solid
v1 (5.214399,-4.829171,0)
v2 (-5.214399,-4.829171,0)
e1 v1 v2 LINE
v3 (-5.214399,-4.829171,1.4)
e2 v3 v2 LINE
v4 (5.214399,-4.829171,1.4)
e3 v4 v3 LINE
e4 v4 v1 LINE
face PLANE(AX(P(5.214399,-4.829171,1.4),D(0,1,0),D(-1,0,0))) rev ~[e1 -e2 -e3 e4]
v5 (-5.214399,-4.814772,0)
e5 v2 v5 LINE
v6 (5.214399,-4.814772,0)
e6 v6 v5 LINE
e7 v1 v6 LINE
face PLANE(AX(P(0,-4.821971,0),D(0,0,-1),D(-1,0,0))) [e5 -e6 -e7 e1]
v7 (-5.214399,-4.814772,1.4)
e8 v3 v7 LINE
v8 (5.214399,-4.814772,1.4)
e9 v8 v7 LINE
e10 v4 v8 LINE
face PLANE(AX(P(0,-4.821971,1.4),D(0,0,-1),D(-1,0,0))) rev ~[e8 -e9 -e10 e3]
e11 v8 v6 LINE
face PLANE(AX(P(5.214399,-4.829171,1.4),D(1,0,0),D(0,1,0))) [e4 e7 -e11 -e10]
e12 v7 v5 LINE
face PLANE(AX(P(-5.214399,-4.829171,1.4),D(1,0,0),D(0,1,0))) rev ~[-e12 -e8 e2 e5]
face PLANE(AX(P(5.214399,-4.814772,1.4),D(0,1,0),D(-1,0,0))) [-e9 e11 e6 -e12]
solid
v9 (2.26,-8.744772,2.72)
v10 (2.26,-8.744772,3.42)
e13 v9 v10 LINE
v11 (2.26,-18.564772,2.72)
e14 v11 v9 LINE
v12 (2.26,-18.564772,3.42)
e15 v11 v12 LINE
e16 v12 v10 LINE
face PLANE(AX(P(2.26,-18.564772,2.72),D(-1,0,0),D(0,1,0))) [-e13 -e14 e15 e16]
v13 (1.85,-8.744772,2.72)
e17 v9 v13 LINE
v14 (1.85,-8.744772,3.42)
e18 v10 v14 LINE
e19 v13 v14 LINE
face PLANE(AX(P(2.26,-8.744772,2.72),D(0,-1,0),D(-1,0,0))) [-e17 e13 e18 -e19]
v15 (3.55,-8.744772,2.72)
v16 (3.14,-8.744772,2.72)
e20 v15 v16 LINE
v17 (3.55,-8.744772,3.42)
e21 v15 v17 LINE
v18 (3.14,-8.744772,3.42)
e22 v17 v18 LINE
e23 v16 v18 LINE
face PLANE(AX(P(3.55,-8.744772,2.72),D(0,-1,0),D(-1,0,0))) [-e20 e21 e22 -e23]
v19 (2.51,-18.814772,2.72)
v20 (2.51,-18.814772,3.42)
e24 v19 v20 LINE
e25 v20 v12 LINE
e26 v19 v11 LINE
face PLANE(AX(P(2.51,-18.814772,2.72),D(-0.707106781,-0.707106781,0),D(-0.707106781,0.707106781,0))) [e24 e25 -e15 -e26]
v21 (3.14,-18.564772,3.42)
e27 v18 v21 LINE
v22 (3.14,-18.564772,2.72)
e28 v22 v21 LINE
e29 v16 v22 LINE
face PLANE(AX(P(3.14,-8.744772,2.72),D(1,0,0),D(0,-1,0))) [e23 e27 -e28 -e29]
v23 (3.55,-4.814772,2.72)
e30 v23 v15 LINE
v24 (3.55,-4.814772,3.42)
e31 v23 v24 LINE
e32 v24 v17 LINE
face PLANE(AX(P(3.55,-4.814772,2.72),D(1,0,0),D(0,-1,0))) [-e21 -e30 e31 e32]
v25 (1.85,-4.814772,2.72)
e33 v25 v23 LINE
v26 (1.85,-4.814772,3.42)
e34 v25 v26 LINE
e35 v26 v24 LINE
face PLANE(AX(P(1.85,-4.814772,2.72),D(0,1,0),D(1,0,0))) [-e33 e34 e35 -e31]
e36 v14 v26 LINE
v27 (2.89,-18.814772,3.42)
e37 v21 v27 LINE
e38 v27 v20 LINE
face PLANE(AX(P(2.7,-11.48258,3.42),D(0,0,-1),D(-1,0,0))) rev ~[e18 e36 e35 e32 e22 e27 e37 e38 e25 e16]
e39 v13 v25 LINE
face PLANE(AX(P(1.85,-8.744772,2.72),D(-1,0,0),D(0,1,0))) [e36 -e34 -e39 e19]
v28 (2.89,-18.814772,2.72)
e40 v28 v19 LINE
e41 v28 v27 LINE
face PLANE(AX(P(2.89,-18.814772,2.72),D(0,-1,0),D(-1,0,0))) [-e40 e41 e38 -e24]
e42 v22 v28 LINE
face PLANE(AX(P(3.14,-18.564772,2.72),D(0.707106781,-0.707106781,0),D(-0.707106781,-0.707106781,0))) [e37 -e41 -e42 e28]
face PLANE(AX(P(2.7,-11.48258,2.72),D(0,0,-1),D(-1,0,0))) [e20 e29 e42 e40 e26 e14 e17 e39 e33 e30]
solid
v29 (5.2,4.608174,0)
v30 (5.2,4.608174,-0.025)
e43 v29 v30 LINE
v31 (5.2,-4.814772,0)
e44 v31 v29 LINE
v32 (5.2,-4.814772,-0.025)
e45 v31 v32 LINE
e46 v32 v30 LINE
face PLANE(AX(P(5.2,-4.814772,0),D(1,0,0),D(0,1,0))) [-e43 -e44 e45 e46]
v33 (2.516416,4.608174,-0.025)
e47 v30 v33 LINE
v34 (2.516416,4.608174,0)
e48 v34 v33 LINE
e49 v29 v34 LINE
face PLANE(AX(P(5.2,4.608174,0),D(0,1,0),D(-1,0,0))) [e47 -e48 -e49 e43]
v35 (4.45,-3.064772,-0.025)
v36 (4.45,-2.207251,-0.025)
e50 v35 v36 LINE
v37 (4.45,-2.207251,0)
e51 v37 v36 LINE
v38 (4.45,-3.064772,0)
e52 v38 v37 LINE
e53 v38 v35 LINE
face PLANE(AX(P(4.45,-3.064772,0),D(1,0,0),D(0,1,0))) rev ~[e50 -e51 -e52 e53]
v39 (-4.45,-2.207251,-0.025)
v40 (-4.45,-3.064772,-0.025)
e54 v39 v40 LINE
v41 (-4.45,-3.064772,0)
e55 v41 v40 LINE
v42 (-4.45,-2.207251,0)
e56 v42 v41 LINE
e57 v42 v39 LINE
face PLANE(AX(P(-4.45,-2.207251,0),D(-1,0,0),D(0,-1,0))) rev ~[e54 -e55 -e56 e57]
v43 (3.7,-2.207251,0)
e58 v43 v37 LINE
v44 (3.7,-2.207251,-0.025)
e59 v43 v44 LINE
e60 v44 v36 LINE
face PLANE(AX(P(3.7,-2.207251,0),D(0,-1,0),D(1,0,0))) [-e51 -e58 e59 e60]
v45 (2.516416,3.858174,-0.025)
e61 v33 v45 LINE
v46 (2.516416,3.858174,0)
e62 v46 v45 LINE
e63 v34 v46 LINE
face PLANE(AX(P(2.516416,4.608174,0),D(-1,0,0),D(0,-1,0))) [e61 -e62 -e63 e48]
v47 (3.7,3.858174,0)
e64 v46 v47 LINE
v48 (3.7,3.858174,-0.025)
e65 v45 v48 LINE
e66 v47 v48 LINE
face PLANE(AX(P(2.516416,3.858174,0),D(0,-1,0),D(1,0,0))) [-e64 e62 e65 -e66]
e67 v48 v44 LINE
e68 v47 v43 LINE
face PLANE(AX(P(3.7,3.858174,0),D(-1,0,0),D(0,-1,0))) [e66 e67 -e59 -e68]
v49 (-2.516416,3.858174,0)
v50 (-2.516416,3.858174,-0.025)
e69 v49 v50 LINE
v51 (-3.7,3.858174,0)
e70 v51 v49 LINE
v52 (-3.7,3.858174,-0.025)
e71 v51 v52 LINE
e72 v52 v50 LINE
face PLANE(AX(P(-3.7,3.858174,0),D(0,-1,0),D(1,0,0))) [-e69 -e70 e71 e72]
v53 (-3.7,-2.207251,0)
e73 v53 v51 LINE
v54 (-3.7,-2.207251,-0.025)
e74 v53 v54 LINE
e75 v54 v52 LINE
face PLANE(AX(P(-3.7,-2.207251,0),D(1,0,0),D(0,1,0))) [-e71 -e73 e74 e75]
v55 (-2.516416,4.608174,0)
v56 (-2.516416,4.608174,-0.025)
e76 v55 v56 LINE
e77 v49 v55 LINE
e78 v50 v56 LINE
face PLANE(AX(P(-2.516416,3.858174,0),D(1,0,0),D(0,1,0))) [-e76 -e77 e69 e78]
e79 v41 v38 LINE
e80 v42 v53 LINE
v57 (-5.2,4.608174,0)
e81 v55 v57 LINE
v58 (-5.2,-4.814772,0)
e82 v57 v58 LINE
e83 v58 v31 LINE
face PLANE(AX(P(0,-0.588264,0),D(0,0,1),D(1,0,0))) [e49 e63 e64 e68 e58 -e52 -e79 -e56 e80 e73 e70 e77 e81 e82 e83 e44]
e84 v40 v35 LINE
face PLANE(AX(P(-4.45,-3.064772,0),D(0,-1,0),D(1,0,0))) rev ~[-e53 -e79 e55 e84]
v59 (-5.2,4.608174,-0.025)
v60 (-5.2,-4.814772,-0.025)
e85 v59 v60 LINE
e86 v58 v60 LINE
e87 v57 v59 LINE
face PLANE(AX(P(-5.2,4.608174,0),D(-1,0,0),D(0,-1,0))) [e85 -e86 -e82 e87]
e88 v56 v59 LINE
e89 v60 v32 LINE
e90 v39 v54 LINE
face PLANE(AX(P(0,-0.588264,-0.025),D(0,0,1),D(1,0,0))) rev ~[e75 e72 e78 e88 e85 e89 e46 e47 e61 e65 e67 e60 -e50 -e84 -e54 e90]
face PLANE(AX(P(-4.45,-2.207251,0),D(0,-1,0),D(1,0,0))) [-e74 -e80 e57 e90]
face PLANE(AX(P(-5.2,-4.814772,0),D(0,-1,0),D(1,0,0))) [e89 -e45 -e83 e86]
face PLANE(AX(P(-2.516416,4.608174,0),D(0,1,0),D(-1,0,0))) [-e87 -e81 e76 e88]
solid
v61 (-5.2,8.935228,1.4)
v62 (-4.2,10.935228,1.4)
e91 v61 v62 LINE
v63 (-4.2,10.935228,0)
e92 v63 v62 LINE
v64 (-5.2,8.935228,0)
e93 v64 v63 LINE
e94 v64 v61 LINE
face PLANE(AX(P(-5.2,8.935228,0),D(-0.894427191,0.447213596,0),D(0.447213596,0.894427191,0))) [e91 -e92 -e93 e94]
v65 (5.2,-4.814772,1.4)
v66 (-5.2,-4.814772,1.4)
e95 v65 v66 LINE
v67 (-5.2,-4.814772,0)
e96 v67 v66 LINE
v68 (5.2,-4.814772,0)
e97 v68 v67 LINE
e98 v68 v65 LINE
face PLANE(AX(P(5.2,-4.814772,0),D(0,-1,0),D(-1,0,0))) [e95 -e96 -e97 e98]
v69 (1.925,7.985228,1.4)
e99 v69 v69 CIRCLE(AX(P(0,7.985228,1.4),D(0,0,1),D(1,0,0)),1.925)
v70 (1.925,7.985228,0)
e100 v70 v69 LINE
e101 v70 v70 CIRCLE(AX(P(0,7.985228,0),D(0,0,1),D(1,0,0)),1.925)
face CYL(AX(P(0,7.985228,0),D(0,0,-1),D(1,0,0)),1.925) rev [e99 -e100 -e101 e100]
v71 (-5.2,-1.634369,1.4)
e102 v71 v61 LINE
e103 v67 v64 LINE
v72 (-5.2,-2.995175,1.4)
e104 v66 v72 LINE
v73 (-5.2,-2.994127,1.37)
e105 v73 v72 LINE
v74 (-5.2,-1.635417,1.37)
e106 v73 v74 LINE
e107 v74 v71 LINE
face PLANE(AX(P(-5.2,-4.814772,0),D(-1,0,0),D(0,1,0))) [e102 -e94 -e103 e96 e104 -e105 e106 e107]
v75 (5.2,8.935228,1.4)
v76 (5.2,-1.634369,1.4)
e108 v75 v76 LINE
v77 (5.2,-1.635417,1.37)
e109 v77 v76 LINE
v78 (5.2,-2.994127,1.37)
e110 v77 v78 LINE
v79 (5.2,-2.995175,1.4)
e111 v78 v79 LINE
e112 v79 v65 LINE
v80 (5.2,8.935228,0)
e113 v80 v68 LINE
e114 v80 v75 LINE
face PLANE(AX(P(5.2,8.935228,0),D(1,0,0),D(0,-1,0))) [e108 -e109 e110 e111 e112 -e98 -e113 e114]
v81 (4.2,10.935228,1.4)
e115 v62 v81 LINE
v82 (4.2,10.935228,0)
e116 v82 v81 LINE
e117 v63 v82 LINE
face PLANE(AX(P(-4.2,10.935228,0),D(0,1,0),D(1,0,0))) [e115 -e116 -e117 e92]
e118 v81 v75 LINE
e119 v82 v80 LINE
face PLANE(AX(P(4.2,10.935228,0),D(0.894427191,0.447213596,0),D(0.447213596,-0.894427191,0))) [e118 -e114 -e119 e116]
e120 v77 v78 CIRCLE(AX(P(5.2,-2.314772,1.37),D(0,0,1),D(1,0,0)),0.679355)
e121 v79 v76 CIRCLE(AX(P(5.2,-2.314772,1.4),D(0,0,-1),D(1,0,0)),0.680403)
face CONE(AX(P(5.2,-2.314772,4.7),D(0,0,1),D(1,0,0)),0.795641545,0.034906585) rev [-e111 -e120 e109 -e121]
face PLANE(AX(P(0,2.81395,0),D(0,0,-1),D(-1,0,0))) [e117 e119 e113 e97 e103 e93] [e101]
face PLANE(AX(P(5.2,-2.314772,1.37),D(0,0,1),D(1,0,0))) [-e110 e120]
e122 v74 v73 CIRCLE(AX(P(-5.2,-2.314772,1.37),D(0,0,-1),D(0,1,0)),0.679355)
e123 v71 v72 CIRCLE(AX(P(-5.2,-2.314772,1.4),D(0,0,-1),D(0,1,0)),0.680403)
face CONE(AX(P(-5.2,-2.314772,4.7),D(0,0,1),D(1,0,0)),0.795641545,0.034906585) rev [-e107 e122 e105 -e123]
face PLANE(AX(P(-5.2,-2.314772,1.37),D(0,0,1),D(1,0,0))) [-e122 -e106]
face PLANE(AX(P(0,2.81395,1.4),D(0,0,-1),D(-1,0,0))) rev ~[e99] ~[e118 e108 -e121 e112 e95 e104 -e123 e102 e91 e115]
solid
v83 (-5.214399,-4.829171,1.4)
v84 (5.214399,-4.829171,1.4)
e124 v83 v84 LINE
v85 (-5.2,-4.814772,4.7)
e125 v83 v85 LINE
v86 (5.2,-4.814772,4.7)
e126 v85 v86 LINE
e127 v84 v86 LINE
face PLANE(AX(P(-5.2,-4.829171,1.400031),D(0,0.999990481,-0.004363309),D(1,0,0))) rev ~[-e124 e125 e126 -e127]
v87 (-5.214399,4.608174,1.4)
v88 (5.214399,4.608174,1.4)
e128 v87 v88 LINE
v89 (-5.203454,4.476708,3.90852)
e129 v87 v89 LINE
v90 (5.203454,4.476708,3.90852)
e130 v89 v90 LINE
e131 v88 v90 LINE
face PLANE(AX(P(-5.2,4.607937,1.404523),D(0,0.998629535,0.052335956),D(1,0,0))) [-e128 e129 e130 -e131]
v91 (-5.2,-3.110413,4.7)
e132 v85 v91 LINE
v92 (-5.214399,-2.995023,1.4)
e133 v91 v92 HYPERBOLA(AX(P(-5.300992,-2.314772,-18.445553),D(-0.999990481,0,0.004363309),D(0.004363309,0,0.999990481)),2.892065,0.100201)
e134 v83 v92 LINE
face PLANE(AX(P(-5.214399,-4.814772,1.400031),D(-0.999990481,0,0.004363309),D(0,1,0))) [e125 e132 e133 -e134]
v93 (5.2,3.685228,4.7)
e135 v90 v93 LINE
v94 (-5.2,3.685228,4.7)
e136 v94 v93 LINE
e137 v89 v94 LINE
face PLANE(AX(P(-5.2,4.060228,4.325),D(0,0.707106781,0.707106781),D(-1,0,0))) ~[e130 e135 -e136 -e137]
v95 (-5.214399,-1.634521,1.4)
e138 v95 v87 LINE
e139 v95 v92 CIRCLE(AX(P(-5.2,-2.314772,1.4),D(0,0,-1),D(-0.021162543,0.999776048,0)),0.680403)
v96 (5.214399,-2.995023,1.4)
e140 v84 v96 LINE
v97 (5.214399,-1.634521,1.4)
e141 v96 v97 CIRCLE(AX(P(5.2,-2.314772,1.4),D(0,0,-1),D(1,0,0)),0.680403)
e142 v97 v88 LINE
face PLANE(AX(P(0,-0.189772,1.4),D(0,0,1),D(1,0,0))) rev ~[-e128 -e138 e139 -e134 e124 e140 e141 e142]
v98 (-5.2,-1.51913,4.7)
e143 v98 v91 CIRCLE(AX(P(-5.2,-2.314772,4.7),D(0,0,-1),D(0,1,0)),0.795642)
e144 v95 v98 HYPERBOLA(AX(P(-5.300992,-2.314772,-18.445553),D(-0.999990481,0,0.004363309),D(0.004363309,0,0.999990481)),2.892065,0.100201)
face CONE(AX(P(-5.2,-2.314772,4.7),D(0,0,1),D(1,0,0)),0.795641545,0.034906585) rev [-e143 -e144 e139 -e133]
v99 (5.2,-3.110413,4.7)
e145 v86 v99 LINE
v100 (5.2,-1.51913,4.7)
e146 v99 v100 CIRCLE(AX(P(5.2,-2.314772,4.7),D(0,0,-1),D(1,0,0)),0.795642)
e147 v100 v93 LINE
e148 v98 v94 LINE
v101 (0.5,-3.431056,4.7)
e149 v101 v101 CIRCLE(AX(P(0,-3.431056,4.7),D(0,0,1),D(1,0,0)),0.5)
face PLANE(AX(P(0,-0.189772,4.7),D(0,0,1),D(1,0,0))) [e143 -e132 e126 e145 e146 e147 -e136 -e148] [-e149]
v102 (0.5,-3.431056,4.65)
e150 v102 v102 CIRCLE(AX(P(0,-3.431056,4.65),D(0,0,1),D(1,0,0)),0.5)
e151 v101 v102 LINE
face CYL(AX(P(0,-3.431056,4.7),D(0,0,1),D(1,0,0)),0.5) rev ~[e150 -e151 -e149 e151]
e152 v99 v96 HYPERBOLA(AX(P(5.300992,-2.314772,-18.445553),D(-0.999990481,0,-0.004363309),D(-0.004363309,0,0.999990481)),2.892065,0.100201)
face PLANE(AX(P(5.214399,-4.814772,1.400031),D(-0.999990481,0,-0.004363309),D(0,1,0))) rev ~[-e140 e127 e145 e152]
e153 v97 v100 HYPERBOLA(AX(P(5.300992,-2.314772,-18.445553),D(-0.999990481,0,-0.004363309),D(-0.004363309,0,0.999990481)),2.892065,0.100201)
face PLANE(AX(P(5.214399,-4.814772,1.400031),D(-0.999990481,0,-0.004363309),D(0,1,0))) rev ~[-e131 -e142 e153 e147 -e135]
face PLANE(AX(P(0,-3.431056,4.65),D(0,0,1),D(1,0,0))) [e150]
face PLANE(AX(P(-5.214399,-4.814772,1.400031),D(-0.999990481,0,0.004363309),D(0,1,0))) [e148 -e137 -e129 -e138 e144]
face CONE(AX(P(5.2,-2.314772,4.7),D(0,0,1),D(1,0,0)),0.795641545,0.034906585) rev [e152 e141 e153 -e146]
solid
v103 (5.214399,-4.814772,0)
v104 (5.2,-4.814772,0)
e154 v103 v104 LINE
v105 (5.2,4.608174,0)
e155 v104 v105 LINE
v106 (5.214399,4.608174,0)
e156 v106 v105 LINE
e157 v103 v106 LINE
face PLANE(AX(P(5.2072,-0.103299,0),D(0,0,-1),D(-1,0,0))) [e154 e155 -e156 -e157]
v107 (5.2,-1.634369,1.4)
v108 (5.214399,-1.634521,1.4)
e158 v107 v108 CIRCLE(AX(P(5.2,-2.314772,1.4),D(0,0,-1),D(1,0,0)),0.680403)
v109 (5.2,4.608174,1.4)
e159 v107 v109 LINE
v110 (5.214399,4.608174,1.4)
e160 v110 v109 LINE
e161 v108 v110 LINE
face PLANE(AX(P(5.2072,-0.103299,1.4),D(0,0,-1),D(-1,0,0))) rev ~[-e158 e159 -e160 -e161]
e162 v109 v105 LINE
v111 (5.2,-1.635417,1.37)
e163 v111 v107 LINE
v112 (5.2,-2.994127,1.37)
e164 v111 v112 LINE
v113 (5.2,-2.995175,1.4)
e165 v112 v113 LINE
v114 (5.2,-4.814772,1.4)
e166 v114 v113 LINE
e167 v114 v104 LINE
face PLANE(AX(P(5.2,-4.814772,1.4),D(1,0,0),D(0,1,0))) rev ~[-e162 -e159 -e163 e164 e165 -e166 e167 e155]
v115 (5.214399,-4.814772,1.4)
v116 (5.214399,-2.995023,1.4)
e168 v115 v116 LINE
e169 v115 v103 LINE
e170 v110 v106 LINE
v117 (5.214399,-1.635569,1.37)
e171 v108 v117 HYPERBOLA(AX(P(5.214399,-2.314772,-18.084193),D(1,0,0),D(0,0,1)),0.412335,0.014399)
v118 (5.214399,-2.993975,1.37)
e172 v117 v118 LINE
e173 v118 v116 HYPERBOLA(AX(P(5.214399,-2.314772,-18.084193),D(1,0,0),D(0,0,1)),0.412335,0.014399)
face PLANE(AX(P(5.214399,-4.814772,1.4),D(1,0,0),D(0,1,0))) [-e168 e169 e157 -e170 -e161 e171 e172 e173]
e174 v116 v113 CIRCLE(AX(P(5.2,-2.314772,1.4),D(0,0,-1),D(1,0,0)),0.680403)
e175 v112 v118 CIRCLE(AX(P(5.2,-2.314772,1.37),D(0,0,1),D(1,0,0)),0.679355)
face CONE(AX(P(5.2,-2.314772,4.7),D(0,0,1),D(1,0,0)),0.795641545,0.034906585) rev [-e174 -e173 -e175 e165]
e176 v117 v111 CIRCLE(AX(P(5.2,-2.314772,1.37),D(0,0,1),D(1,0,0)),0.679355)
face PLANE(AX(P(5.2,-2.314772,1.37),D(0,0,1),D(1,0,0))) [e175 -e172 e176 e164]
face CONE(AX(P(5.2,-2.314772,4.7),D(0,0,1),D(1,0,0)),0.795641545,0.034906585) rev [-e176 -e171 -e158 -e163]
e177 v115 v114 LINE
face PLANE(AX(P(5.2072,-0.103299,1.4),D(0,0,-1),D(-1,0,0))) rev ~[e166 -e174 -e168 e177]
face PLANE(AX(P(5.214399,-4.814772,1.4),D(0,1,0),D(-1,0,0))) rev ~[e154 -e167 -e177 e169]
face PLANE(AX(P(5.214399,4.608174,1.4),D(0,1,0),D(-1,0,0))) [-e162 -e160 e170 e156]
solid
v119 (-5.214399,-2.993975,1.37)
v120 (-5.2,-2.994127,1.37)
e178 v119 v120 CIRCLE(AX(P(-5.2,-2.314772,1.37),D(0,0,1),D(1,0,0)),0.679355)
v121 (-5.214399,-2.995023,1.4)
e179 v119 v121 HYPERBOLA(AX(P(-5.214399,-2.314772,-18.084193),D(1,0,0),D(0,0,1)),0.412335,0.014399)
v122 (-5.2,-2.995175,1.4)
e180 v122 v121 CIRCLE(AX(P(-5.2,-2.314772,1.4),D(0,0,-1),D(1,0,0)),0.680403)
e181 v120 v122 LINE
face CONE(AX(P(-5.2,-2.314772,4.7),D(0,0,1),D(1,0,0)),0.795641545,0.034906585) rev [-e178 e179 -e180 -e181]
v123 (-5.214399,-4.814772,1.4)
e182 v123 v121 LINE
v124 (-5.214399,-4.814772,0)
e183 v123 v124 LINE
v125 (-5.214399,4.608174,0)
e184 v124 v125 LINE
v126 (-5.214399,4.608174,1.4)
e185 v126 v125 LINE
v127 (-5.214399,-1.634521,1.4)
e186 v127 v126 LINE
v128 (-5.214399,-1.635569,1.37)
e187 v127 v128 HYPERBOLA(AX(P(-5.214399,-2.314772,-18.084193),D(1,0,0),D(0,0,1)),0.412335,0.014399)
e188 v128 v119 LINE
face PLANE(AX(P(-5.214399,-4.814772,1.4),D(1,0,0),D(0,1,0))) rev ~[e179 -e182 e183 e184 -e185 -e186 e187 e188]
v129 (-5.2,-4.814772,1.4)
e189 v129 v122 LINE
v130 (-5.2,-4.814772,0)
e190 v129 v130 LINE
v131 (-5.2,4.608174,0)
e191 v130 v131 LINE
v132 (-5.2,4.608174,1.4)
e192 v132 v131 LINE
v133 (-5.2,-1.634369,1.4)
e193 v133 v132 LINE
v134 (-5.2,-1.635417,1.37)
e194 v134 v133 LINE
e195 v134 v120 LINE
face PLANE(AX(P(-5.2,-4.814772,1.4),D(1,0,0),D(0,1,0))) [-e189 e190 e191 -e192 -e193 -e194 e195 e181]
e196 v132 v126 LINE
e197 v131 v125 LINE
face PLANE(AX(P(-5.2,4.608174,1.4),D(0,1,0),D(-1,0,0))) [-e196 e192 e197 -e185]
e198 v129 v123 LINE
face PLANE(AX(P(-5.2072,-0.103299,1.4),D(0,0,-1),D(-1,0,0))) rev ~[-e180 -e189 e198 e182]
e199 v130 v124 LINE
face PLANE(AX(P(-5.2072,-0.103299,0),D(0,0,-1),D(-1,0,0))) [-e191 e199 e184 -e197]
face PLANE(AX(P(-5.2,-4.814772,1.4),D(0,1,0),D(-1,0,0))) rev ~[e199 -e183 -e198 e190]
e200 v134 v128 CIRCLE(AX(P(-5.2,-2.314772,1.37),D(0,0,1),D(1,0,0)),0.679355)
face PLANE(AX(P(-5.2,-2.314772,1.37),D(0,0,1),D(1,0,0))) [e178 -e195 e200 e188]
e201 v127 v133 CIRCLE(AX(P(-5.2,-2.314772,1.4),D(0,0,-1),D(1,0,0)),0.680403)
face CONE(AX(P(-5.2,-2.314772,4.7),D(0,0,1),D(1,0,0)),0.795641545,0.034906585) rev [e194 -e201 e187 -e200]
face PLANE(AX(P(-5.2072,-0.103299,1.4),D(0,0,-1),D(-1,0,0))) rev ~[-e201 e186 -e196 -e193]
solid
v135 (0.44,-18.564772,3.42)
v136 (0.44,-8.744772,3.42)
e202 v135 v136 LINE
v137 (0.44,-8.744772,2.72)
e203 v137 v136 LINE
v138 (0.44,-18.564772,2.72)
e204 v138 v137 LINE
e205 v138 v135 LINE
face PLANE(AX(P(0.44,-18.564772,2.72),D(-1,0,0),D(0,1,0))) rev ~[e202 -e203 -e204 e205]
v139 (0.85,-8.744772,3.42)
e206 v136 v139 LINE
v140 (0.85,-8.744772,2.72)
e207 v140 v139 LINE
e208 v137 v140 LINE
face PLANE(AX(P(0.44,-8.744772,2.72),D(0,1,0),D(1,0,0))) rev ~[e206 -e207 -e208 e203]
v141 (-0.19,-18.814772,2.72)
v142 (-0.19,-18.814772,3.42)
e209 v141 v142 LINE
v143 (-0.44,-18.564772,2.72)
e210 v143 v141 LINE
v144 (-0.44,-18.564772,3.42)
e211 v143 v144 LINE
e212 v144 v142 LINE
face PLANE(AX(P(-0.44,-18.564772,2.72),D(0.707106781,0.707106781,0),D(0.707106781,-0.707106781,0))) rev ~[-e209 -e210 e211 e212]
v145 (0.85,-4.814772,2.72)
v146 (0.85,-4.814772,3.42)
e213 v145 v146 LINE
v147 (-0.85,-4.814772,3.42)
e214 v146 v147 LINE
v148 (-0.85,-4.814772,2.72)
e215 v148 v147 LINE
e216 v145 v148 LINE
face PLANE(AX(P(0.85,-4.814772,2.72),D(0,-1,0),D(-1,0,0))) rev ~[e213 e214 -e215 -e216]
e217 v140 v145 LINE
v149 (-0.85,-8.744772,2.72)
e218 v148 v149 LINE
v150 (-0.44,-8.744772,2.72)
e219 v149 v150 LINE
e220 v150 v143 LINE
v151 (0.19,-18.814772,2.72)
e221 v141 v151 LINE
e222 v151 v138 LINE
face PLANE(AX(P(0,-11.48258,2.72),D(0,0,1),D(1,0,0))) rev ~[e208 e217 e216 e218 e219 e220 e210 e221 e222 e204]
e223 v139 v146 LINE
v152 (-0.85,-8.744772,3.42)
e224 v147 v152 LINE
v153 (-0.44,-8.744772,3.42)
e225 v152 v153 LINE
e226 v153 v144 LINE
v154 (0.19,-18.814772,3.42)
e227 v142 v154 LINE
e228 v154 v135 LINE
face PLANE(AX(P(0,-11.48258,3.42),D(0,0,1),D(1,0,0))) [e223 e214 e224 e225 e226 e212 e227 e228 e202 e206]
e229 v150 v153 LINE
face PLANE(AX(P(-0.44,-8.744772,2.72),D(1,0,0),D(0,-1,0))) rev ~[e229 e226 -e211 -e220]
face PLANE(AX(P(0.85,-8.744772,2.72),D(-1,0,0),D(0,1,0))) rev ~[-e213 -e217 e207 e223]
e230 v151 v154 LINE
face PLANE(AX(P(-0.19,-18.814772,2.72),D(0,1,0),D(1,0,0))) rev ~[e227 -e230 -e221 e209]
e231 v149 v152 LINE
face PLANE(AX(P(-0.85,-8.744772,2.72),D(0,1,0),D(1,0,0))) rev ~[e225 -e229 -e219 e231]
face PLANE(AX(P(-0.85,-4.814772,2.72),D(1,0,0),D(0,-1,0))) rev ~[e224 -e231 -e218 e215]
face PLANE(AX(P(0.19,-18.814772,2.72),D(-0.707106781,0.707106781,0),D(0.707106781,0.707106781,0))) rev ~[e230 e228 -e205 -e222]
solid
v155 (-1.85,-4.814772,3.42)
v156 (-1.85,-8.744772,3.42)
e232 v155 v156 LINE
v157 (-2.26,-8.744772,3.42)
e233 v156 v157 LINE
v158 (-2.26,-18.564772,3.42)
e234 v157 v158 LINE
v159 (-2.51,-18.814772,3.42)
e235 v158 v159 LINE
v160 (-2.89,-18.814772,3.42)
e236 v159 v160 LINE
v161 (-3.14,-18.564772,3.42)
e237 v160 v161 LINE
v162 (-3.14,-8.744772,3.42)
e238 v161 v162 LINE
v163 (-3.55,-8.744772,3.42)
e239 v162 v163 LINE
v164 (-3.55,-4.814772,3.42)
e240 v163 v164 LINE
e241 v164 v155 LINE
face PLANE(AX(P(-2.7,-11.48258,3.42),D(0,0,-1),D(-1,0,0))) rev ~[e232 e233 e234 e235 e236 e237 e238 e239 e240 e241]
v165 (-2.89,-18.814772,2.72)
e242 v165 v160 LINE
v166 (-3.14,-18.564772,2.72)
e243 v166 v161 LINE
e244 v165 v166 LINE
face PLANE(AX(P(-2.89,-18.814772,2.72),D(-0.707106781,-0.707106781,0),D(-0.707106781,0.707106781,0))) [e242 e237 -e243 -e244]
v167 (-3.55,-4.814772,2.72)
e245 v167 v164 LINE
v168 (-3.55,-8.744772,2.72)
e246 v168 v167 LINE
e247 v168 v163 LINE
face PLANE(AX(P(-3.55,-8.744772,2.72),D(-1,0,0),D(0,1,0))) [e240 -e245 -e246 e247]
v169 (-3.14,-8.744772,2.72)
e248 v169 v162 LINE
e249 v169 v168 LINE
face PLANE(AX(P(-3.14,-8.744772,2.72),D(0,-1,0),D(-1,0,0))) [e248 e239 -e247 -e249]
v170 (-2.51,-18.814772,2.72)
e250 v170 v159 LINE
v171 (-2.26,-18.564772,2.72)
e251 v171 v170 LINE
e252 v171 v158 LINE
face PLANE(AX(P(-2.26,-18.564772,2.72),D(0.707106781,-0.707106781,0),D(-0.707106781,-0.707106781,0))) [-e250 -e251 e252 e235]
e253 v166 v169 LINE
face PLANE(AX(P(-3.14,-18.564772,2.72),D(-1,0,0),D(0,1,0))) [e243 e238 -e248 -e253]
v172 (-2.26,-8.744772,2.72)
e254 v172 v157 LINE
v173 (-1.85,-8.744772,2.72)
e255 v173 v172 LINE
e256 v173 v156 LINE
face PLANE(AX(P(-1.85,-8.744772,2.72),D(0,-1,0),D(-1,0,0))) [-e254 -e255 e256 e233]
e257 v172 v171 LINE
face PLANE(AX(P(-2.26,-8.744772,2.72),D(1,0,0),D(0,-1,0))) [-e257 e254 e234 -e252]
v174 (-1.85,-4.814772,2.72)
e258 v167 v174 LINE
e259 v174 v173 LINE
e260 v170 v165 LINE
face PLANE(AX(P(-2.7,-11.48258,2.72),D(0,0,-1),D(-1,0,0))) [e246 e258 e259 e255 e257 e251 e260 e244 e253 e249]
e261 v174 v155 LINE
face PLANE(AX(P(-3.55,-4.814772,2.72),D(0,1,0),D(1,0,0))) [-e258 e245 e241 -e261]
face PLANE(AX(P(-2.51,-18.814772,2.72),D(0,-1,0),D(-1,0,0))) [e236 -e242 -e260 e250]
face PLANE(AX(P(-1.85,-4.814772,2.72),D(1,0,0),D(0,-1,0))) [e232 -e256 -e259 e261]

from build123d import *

# Parameters (mm, degrees)
SKETCH1_R             = 1.925
BOSS_EXTRUDE1_DEPTH   = 1.4
SKETCH2_W             = 10.4
SKETCH2_H             = 9.25
BOSS_EXTRUDE2_DEPTH   = 3.3
CHAMFER1_SIZE         = 0.75
DRAFT7_ANGLE          = 3
DRAFT8_ANGLE          = 0.25
SKETCH4_W             = 0.014399058
SKETCH4_H             = 9.422945672
BOSS_EXTRUDE4_DEPTH   = 1.4
BOSS_EXTRUDE4_2_DEPTH = 1.4
SKETCH5_R             = 0.795641545
CUT_EXTRUDE1_DEPTH    = 3.33
CUT_EXTRUDE1_TAPER    = 2
BOSS_EXTRUDE6_DEPTH   = 0.025
BOSS_EXTRUDE7_DEPTH   = 0.7
BOSS_EXTRUDE7_2_DEPTH = 0.7
BOSS_EXTRUDE7_3_DEPTH = 0.7
DRAFT16_ANGLE         = 0.25
SKETCH16_W            = 10.428798116
SKETCH16_H            = 0.014399058
BOSS_EXTRUDE8_DEPTH   = 1.4
SKETCH17_R            = 0.5
CUT_EXTRUDE2_DEPTH    = 0.05


with BuildPart() as part:
    # Sketch1 → Boss-Extrude1 (new body)
    with BuildSketch(Plane.XY):
        Polygon((-5.2, 8.935228045), (-4.2, 10.935228045), (4.2, 10.935228045), (5.2, 8.935228045), (5.2, -4.814771955), (-5.2, -4.814771955), align=None)
        with Locations((0, 7.985228045)):
            Circle(SKETCH1_R, mode=Mode.SUBTRACT)
    extrude(amount=BOSS_EXTRUDE1_DEPTH)


with BuildPart() as body_2:
    # Sketch2 → Boss-Extrude2 (new body)
    with BuildSketch(Plane.XY.offset(1.4)):
        with Locations((0, -0.189771955)):
            Rectangle(SKETCH2_W, SKETCH2_H)
    extrude(amount=BOSS_EXTRUDE2_DEPTH)

    # Chamfer1
    chamfer1_edges = [body_2.edges().sort_by_distance(p)[0] for p in [
        (0, 4.435228045, 4.7),
    ]]
    chamfer(chamfer1_edges, length=CHAMFER1_SIZE)

    # Draft7
    draft7_faces = [body_2.faces().sort_by_distance(p)[0] for p in [
        (0, 4.435228045, 2.675),
    ]]
    draft(draft7_faces, Plane.XY.offset(4.7), DRAFT7_ANGLE)

    # Draft8
    draft8_faces = [body_2.faces().sort_by_distance(p)[0] for p in [
        (5.2, -0.188670245, 3.031373156),
        (-5.2, -0.188670245, 3.031373156),
    ]]
    draft(draft8_faces, Plane.XY.offset(4.7), DRAFT8_ANGLE)


with BuildPart() as body_3:
    # Sketch4 → Boss-Extrude4 (new body)
    with BuildSketch(Plane(origin=(0, 0, 1.4), x_dir=(-1, 0, 0), z_dir=(0, 0, -1))):
        with Locations((-5.207199529, -0.103299119)):
            Rectangle(SKETCH4_W, SKETCH4_H)
    extrude(amount=BOSS_EXTRUDE4_DEPTH)


with BuildPart() as body_4:
    # Sketch4 → Boss-Extrude4 2 (new body)
    with BuildSketch(Plane(origin=(0, 0, 1.4), x_dir=(-1, 0, 0), z_dir=(0, 0, -1))):
        with Locations((5.207199529, -0.103299119)):
            Rectangle(SKETCH4_W, SKETCH4_H)
    extrude(amount=BOSS_EXTRUDE4_2_DEPTH)


with BuildPart() as cut_extrude1_tool:
    # Sketch5 → Cut-Extrude1 (new body)
    with BuildSketch(Plane.XY.offset(4.7)):
        with Locations((-5.2, -2.314771955)):
            Circle(SKETCH5_R)
        with Locations((5.2, -2.314771955)):
            Circle(SKETCH5_R)
    extrude(amount=-CUT_EXTRUDE1_DEPTH, taper=CUT_EXTRUDE1_TAPER)


with BuildPart() as part_1:
    add(part.part)

    # Cut-Extrude1: cut by cut_extrude1_tool
    add(cut_extrude1_tool.part, mode=Mode.SUBTRACT)


with BuildPart() as body_2_1:
    add(body_2.part)

    # Cut-Extrude1: cut by cut_extrude1_tool
    add(cut_extrude1_tool.part, mode=Mode.SUBTRACT)

    # Draft16
    draft16_faces = [body_2_1.faces().sort_by_distance(p)[0] for p in [
        (0, -4.814771955, 3.049239564),
    ]]
    draft(draft16_faces, Plane.XY.offset(4.7), DRAFT16_ANGLE)

    # Sketch17 → Cut-Extrude2 (cut)
    with BuildSketch(Plane.XY.offset(4.7)):
        with Locations((0, -3.431055698)):
            Circle(SKETCH17_R)
    extrude(amount=-CUT_EXTRUDE2_DEPTH, mode=Mode.SUBTRACT)


with BuildPart() as body_3_1:
    add(body_3.part)

    # Cut-Extrude1: cut by cut_extrude1_tool
    add(cut_extrude1_tool.part, mode=Mode.SUBTRACT)


with BuildPart() as body_4_1:
    add(body_4.part)

    # Cut-Extrude1: cut by cut_extrude1_tool
    add(cut_extrude1_tool.part, mode=Mode.SUBTRACT)


with BuildPart() as body_5:
    # Sketch6 → Boss-Extrude6 (new body)
    with BuildSketch(Plane(origin=(0, 0, 0), x_dir=(-1, 0, 0), z_dir=(0, 0, -1))):
        Polygon((-5.2, 4.608173717), (-2.516415683, 4.608173717), (-2.516415683, 3.858173717), (-3.7, 3.858173717), (-3.7, -2.207251306), (-4.45, -2.207251306), (-4.45, -3.039821774), (-4.45, -3.064771955), (-4.310560576, -3.064771955), (4.310560576, -3.064771955), (4.45, -3.064771955), (4.45, -3.039821774), (4.45, -2.207251306), (3.7, -2.207251306), (3.7, 3.858173717), (2.516415683, 3.858173717), (2.516415683, 4.608173717), (5.2, 4.608173717), (5.2, -4.814771955), (-5.2, -4.814771955), align=None)
    extrude(amount=BOSS_EXTRUDE6_DEPTH)


with BuildPart() as body_6:
    # Sketch10 → Boss-Extrude7 (new body)
    with BuildSketch(Plane(origin=(0, 0, 2.72), x_dir=(-1, 0, 0), z_dir=(0, 0, -1))):
        Polygon((-0.85, -4.814771955), (0.85, -4.814771955), (0.85, -8.744771955), (0.44, -8.744771955), (0.44, -18.564771955), (0.19, -18.814771955), (-0.19, -18.814771955), (-0.44, -18.564771955), (-0.44, -8.744771955), (-0.85, -8.744771955), align=None)
    extrude(amount=-BOSS_EXTRUDE7_DEPTH)


with BuildPart() as body_7:
    # Sketch10 → Boss-Extrude7 2 (new body)
    with BuildSketch(Plane(origin=(0, 0, 2.72), x_dir=(-1, 0, 0), z_dir=(0, 0, -1))):
        Polygon((1.85, -4.814771955), (1.85, -8.744771955), (2.26, -8.744771955), (2.26, -18.564771955), (2.51, -18.814771955), (2.89, -18.814771955), (3.14, -18.564771955), (3.14, -8.744771955), (3.55, -8.744771955), (3.55, -4.814771955), align=None)
    extrude(amount=-BOSS_EXTRUDE7_2_DEPTH)


with BuildPart() as body_8:
    # Sketch10 → Boss-Extrude7 3 (new body)
    with BuildSketch(Plane(origin=(0, 0, 2.72), x_dir=(-1, 0, 0), z_dir=(0, 0, -1))):
        Polygon((-3.55, -4.814771955), (-3.55, -8.744771955), (-3.14, -8.744771955), (-3.14, -18.564771955), (-2.89, -18.814771955), (-2.51, -18.814771955), (-2.26, -18.564771955), (-2.26, -8.744771955), (-1.85, -8.744771955), (-1.85, -4.814771955), align=None)
    extrude(amount=-BOSS_EXTRUDE7_3_DEPTH)


with BuildPart() as body_9:
    # Sketch16 → Boss-Extrude8 (new body)
    with BuildSketch(Plane(origin=(0, 0, 1.4), x_dir=(-1, 0, 0), z_dir=(0, 0, -1))):
        with Locations((0, -4.821971484)):
            Rectangle(SKETCH16_W, SKETCH16_H)
    extrude(amount=BOSS_EXTRUDE8_DEPTH)


solid = Compound([part_1.part, body_2_1.part, body_3_1.part, body_4_1.part, body_5.part, body_6.part, body_7.part, body_8.part, body_9.part])
